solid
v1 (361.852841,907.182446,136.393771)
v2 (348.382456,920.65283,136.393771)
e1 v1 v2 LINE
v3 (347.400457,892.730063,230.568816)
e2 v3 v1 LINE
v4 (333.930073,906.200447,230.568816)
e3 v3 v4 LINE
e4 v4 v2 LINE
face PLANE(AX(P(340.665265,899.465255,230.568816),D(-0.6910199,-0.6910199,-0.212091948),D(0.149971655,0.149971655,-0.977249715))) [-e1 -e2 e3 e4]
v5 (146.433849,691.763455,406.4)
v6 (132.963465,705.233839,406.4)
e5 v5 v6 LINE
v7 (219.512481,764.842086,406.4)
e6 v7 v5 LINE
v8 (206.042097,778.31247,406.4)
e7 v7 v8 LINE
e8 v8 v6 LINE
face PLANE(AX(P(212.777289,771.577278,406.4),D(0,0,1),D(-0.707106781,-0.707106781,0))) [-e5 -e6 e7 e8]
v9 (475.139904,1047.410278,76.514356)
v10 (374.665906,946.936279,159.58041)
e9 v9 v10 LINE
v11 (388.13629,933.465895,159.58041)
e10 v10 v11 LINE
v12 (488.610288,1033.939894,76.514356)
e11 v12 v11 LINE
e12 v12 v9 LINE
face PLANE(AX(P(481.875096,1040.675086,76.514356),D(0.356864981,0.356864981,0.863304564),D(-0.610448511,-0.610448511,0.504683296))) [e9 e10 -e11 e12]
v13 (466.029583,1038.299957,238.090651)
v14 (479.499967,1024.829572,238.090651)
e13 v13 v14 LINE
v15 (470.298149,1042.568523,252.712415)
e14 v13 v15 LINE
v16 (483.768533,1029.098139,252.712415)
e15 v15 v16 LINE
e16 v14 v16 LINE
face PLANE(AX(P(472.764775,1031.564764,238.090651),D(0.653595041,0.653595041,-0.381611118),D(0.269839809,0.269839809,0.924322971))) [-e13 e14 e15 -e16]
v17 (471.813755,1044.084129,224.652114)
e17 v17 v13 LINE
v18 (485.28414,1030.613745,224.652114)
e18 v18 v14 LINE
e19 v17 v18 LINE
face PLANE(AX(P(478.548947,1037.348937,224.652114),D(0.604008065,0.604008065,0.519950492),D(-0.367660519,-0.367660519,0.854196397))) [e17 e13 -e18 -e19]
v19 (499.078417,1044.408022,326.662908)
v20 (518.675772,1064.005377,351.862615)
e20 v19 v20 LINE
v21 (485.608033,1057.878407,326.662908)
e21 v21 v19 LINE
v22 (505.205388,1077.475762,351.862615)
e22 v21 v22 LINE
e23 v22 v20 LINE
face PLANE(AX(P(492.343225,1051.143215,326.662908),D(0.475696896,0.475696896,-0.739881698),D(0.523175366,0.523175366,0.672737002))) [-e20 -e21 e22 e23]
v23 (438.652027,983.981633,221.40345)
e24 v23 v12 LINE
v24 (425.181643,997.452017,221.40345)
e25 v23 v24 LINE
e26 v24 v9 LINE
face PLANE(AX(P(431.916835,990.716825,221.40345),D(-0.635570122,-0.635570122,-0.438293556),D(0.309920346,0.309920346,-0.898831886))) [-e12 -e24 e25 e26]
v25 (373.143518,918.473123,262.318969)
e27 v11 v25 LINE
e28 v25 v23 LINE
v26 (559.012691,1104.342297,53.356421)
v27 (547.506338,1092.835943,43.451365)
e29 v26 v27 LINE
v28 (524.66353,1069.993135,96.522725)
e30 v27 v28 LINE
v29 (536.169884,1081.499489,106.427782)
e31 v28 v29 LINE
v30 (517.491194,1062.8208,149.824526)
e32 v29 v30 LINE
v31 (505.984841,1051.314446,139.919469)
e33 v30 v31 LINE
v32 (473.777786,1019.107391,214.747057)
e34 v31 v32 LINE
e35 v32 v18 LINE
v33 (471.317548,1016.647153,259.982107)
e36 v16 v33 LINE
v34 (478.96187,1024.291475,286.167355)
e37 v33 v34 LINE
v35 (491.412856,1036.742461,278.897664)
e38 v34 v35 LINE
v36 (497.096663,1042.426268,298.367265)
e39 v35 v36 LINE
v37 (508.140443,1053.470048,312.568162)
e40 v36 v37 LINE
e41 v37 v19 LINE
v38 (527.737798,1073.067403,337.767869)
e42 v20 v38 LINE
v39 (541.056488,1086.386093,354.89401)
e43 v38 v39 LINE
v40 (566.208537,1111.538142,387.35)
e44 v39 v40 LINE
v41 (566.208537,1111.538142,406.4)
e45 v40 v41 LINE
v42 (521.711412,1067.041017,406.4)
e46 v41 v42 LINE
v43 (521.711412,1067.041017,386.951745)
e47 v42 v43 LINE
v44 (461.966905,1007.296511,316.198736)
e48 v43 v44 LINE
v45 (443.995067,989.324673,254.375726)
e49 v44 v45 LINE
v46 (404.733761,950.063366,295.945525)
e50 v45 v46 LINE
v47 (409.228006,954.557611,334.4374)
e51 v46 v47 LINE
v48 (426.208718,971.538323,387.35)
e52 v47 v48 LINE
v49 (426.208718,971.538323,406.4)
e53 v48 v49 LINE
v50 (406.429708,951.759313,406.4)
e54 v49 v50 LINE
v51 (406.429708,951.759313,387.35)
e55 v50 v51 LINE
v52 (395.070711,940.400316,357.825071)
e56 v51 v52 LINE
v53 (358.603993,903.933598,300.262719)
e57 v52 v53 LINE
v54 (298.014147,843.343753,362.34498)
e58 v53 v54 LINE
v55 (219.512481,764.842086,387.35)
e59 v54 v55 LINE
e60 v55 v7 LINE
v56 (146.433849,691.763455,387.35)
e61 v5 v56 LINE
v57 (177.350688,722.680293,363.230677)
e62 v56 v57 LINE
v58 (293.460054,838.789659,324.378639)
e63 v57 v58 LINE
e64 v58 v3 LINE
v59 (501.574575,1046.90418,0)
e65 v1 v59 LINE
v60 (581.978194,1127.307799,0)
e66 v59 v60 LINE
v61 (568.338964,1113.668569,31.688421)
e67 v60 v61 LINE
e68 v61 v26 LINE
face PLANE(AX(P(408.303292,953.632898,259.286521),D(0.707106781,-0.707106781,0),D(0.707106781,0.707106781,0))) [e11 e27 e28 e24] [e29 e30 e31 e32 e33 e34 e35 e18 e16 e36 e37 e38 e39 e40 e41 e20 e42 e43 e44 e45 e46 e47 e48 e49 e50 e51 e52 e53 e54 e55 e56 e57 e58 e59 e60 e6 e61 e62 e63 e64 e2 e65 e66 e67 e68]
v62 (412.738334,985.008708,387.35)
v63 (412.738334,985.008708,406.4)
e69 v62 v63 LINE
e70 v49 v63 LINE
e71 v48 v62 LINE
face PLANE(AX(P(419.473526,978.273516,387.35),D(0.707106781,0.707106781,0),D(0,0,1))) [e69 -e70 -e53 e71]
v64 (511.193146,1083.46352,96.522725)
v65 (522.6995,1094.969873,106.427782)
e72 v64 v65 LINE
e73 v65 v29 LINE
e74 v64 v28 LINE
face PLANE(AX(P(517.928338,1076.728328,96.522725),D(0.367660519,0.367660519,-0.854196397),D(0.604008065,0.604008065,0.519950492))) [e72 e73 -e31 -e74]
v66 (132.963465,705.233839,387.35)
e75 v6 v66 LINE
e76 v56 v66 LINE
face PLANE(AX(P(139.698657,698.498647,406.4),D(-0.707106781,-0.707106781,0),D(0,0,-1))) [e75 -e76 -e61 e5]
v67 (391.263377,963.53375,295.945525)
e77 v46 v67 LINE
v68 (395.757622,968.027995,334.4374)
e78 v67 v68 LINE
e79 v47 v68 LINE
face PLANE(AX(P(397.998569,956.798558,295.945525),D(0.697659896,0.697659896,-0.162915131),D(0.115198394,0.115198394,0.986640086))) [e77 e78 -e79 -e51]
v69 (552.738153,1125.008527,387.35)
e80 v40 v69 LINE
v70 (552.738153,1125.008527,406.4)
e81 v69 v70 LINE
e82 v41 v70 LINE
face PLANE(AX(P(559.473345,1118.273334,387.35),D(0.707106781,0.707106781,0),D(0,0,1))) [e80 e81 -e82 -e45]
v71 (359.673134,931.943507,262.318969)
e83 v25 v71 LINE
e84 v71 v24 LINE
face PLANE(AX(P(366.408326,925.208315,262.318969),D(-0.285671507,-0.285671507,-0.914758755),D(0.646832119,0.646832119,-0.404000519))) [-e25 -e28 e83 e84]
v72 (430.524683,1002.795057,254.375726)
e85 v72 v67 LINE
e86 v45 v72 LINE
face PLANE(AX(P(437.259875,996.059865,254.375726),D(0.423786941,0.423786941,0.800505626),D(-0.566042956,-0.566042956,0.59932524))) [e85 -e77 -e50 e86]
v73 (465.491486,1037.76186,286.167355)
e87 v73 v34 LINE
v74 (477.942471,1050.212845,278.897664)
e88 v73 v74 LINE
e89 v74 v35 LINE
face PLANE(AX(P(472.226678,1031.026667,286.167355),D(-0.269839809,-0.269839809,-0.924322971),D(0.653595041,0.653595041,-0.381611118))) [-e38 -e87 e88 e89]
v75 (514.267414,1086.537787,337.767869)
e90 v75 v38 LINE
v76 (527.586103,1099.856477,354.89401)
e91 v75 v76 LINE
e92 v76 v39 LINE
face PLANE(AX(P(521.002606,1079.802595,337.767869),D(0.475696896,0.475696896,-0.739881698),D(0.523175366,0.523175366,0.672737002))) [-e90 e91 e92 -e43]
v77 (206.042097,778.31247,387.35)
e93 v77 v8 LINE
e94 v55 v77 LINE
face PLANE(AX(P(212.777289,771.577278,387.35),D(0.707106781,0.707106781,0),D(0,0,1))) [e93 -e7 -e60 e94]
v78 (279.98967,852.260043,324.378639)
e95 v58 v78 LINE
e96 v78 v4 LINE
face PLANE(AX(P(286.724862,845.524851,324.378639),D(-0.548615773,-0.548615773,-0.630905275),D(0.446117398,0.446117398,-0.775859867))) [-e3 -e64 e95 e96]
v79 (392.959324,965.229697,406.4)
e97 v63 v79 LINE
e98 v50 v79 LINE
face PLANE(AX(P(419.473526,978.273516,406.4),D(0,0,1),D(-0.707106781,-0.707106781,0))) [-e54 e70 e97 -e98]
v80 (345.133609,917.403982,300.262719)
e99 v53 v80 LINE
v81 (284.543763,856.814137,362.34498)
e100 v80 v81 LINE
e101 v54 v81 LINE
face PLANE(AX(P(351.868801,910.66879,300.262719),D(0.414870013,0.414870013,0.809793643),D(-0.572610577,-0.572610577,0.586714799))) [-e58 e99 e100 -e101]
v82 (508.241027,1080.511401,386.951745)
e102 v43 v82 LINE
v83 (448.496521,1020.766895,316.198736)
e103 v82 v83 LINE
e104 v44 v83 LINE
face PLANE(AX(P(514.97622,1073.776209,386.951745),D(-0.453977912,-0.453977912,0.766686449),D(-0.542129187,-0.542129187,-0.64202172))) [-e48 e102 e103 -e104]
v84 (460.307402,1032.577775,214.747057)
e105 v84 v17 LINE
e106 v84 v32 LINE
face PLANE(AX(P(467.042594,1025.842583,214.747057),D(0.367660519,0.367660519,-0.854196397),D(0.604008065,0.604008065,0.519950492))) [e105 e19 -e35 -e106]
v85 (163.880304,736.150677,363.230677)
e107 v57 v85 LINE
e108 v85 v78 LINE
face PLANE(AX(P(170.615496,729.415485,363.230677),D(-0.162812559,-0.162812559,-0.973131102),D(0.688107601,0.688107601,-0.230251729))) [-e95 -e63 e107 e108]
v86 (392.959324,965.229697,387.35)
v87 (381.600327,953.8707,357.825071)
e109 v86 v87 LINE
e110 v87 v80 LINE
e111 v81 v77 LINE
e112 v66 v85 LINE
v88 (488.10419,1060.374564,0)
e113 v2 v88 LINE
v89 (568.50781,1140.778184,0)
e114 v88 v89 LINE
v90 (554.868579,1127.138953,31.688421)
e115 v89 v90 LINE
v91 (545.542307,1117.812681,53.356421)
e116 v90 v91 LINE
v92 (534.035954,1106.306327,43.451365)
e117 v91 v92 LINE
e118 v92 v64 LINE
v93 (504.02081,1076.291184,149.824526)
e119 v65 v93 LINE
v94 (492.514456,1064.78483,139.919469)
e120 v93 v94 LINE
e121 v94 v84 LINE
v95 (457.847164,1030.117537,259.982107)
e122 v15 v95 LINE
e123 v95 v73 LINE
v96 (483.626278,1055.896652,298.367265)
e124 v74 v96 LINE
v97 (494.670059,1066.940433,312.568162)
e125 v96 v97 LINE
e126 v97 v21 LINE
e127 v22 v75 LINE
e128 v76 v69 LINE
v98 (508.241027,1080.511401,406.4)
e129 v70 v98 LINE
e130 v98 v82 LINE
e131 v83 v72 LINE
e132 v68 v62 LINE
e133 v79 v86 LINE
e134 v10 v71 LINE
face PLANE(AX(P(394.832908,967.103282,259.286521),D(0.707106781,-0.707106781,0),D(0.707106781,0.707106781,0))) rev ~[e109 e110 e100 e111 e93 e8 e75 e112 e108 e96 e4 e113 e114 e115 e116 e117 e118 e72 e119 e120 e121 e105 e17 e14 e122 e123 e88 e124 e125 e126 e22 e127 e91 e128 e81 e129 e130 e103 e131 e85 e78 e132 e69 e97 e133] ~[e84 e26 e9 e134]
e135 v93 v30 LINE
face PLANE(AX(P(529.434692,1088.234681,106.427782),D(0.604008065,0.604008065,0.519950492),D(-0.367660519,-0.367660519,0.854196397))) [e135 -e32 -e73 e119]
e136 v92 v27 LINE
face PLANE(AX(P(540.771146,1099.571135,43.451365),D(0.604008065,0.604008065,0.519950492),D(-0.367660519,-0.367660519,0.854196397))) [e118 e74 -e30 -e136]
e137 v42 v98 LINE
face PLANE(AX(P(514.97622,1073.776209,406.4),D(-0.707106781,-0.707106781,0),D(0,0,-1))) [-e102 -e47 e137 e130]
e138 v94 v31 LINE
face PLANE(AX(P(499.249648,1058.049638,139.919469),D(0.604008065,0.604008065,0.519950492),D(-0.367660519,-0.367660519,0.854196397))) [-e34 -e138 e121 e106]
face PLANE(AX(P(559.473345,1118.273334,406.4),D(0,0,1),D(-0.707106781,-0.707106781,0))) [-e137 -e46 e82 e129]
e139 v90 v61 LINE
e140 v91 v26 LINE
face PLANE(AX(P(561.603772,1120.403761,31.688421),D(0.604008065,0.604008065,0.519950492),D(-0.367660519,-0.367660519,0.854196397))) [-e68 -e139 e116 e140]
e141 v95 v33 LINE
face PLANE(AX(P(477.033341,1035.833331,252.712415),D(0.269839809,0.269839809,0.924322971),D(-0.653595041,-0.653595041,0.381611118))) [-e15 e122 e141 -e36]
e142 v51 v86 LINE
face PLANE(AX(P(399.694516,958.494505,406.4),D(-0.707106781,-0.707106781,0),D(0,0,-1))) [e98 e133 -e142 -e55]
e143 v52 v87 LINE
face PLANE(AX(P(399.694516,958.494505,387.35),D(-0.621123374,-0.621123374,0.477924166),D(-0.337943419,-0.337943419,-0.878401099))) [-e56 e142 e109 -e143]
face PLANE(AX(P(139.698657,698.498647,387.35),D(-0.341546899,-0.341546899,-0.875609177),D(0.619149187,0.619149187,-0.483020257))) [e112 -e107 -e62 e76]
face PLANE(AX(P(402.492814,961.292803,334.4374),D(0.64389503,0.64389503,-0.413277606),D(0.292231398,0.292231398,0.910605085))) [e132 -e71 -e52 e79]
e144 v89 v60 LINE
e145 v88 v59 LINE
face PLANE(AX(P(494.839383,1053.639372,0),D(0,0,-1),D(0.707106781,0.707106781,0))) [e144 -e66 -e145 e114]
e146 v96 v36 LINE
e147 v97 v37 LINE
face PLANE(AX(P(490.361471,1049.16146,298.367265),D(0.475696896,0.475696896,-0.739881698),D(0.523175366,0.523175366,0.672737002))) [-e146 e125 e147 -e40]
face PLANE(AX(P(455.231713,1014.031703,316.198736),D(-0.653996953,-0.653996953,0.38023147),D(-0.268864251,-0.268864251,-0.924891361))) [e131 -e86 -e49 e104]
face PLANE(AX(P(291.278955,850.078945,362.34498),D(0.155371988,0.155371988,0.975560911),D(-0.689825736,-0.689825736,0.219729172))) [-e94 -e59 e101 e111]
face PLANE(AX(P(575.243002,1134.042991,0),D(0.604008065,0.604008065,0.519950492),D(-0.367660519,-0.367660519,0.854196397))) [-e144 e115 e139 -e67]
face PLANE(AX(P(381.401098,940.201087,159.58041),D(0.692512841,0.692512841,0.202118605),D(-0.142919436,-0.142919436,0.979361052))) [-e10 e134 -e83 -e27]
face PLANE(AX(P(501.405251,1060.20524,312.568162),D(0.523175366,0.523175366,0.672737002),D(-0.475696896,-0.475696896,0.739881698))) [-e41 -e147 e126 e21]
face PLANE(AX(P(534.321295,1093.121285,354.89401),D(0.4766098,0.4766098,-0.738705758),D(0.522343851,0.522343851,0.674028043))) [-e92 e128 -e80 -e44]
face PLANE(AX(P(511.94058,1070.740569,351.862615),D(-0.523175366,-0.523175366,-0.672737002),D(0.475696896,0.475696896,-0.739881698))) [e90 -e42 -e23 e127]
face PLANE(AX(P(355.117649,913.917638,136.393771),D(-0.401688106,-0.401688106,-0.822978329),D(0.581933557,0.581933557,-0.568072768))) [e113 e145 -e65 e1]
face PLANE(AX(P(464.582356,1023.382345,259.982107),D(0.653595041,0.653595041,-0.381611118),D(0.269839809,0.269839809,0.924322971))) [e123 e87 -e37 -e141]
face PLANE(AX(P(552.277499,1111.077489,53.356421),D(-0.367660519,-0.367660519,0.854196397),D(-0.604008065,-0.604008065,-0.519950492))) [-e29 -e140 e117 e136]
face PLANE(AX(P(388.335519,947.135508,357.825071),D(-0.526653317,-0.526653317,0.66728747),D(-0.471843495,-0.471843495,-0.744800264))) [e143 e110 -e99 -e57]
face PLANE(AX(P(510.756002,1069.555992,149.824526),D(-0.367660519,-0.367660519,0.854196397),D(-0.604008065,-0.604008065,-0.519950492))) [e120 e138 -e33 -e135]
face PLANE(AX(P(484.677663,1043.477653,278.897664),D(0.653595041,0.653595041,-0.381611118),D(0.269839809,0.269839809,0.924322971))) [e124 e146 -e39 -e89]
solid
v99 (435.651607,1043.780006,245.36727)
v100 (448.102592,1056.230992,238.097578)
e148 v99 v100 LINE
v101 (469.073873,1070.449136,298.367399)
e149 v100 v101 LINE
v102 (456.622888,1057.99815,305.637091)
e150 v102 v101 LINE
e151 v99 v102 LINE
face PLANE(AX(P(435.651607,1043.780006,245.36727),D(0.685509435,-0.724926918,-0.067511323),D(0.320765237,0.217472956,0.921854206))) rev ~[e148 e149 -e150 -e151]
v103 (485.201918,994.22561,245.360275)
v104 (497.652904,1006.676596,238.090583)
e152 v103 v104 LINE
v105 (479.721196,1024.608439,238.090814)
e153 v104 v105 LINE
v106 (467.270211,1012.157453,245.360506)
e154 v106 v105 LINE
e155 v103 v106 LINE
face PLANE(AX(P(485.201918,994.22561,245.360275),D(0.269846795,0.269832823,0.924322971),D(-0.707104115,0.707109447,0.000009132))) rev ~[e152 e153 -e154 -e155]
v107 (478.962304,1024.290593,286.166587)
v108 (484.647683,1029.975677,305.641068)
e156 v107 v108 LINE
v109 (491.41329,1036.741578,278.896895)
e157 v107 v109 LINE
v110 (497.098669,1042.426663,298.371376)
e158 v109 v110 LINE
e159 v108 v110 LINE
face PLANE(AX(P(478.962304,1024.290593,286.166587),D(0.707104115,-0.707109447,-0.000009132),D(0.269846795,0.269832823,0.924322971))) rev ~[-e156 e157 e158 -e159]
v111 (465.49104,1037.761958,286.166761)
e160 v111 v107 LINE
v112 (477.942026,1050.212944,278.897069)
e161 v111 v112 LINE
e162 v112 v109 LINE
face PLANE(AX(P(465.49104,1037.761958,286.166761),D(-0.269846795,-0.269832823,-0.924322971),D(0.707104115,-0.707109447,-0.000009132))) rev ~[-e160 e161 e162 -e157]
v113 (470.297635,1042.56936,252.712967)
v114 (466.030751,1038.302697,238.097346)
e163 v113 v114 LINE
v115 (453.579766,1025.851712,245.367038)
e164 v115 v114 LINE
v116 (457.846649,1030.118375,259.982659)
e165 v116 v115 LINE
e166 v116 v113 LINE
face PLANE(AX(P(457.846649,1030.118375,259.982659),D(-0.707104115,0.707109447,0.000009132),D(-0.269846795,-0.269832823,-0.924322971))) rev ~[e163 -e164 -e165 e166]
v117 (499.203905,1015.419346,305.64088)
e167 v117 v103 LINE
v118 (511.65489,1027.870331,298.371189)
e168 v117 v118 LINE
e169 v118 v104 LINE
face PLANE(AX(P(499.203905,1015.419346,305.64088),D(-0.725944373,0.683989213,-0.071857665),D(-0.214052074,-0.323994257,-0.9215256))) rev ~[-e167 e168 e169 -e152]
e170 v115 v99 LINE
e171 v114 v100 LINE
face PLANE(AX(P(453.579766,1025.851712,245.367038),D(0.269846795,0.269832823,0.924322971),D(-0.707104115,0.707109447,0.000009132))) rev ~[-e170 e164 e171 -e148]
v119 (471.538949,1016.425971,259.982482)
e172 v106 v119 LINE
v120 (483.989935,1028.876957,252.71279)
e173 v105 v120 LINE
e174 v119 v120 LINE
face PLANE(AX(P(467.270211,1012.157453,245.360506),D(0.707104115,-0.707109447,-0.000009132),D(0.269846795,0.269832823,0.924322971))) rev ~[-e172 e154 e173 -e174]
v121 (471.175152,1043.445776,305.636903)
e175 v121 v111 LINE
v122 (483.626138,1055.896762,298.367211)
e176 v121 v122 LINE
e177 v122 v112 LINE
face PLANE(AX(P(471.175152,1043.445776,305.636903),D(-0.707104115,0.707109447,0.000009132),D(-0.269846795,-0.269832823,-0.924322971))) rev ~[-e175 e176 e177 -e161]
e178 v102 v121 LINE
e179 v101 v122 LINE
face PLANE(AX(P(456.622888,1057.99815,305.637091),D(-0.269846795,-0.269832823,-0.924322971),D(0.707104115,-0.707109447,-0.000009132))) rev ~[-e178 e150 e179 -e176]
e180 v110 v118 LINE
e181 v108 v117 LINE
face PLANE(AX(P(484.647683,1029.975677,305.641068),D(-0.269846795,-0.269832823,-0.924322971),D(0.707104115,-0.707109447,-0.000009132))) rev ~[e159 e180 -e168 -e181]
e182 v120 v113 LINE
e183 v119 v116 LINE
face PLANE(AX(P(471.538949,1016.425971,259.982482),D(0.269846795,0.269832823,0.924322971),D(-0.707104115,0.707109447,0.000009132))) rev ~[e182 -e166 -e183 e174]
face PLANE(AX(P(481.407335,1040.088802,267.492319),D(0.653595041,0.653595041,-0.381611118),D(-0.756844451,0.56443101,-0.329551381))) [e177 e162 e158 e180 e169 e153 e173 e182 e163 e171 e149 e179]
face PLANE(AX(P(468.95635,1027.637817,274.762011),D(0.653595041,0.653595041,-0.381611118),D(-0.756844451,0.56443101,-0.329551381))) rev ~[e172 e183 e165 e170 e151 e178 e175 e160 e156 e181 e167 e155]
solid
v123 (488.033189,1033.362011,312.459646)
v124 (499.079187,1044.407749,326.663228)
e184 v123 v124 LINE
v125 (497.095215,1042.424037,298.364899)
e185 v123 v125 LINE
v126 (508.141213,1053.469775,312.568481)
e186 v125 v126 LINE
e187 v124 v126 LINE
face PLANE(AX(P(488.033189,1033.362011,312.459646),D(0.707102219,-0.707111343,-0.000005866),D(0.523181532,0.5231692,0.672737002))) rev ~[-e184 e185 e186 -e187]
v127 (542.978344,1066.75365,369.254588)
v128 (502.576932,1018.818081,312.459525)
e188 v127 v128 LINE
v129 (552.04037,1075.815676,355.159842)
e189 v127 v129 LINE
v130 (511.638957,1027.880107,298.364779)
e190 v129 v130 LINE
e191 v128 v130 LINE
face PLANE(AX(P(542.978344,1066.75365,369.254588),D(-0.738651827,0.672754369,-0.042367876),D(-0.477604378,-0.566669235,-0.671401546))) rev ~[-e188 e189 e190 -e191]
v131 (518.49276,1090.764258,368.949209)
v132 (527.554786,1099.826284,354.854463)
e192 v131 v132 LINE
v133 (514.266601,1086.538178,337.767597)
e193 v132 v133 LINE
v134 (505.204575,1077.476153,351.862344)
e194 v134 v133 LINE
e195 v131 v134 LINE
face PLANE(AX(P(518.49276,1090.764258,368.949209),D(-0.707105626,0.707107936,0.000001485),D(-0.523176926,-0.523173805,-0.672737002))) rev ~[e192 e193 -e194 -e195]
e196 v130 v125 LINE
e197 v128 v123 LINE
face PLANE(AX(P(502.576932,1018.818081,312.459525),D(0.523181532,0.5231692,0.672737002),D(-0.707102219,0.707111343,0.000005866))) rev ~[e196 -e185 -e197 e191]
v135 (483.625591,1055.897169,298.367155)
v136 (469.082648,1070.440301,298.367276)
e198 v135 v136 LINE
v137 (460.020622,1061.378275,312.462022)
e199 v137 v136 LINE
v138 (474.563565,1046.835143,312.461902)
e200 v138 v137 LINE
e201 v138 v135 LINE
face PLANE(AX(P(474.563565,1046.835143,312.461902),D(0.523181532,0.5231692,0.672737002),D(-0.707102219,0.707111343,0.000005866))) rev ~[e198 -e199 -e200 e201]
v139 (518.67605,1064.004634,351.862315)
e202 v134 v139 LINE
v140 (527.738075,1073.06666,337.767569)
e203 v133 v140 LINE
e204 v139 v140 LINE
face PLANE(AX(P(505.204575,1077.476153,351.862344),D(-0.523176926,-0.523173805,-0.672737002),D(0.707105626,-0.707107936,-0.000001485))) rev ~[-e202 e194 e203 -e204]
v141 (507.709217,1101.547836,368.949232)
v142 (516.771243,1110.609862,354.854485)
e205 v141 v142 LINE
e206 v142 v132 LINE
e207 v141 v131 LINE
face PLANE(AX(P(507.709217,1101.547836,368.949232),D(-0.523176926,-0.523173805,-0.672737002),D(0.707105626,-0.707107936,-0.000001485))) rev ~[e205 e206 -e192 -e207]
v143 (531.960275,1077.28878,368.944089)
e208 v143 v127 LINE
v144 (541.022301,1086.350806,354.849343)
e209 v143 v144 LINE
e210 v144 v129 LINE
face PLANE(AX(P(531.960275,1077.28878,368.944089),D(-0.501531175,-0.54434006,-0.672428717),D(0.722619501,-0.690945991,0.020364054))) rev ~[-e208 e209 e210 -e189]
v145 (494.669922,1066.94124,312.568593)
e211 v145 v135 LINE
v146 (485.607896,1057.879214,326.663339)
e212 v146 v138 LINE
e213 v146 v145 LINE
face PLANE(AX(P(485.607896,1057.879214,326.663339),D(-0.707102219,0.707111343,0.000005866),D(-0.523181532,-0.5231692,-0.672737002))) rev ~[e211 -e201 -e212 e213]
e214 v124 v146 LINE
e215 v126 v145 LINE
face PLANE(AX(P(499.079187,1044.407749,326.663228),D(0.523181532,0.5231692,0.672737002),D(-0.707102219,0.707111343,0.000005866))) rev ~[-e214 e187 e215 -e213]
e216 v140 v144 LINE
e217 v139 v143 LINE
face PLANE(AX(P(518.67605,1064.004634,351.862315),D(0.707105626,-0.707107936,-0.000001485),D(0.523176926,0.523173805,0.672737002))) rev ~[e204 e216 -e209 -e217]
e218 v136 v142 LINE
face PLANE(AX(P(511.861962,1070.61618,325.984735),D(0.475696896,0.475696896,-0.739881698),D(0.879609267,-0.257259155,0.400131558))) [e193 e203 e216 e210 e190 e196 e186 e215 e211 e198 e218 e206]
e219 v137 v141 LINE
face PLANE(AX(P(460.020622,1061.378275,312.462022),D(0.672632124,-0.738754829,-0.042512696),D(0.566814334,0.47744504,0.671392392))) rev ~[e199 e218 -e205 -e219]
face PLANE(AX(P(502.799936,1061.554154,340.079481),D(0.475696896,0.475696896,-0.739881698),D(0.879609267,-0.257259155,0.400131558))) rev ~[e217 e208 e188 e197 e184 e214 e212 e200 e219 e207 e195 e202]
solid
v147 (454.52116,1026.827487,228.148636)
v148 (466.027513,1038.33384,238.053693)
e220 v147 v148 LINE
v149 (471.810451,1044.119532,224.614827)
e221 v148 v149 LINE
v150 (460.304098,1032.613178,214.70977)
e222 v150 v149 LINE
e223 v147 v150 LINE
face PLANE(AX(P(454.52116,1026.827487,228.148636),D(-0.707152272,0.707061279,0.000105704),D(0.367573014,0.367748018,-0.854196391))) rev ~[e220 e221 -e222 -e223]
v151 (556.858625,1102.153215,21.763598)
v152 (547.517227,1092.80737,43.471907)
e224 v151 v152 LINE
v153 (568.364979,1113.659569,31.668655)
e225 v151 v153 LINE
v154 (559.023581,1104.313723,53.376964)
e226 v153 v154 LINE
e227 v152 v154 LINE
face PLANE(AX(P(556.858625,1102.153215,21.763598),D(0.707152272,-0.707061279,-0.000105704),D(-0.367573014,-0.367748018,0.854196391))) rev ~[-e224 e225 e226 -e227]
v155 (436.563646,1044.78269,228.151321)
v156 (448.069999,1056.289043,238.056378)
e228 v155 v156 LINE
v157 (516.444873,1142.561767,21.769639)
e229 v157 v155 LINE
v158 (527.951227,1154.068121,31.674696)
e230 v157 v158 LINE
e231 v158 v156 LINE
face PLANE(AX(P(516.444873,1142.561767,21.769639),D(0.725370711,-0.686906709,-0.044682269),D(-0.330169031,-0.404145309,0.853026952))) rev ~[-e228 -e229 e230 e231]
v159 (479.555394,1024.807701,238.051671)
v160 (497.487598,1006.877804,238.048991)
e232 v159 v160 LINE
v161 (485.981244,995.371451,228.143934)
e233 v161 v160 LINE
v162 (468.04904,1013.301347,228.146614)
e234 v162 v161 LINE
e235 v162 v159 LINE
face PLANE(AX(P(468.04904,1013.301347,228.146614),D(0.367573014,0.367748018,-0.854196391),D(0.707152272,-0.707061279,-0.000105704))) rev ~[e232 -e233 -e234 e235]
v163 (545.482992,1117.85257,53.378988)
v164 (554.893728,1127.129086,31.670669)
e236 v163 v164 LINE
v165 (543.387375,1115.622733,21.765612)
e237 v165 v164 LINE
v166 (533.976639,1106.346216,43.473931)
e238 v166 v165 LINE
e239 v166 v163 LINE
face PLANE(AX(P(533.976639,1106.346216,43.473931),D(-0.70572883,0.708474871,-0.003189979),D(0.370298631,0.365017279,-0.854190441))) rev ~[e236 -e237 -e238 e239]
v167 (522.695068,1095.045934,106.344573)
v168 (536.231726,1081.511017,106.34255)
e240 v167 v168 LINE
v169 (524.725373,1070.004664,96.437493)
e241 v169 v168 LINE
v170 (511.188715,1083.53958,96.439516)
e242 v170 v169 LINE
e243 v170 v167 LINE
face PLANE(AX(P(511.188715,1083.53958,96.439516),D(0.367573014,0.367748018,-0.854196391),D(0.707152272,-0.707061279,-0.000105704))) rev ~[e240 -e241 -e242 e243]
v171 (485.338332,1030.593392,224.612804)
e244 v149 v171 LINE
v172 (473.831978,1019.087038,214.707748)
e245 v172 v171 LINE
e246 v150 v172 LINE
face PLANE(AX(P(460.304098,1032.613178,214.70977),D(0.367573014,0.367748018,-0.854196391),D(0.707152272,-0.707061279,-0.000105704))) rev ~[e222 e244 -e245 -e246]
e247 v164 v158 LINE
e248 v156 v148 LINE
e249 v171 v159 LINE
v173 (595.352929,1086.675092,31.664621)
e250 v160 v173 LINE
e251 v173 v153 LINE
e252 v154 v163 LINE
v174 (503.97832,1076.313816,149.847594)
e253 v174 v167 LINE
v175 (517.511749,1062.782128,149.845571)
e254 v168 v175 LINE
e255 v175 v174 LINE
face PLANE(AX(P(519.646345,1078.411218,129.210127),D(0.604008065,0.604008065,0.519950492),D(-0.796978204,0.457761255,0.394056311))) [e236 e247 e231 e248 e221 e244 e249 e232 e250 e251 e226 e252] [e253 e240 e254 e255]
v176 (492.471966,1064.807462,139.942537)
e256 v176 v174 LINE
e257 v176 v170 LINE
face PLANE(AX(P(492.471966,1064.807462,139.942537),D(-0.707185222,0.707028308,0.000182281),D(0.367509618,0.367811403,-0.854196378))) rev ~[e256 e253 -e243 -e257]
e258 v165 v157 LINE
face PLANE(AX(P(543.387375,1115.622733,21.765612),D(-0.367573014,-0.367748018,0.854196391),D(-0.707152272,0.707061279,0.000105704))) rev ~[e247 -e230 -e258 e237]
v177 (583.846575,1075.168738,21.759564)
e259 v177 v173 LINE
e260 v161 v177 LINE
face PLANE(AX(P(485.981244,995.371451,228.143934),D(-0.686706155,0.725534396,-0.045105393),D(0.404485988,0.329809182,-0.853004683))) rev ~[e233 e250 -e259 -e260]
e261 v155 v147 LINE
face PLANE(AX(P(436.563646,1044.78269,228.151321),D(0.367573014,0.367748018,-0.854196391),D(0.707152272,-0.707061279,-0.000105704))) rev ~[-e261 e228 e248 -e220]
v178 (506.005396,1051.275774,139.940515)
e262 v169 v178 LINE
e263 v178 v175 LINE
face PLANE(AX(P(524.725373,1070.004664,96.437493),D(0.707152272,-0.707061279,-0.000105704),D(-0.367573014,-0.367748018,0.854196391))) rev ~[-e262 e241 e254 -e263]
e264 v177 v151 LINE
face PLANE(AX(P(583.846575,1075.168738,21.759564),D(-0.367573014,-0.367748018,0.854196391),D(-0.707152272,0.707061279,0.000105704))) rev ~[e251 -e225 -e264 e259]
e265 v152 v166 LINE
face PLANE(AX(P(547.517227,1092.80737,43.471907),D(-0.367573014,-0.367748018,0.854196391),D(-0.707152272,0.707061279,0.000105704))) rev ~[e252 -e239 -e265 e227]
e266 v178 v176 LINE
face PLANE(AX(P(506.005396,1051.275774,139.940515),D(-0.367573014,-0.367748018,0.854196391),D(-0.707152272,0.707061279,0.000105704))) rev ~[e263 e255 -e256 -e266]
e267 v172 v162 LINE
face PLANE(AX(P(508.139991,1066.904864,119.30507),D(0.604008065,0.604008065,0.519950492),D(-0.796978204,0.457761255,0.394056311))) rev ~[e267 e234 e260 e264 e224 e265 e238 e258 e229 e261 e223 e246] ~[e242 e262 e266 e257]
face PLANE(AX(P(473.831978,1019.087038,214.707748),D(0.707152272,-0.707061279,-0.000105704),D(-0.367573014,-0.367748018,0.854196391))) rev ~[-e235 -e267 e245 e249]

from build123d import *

# Parameters (mm, degrees)
F4_DEPTH  = 9.525
F7_DEPTH  = 19.05
F10_DEPTH = 19.05
F13_DEPTH = 19.05


with BuildPart() as f4:
    # F3 (on face) → F4 (new body, symmetric)
    with BuildSketch(Plane(origin=(-279.3999947591, 279.3999947591, 0), x_dir=(0.7071067812, 0.7071067812, 0), z_dir=(0.7071067812, -0.7071067812, 0))):
        Polygon((897.3434567451, 136.3937705755), (1094.939827919, 0), (1186.3460540771, 0), (1208.6477168529, 0), (1189.358932348, 31.6884212524), (1176.1695915607, 53.3564214732), (1159.8971501894, 43.4513645921), (1127.5925418344, 96.5227251898), (1143.8649832057, 106.4277820709), (1117.4493271998, 149.8245256533), (1101.1768858285, 139.9194687722), (1055.6292323309, 214.7470573498), (1071.9016737022, 224.6521142309), (1063.7216184457, 238.0906508463), (1069.7582830134, 252.7124149197), (1052.1499304135, 259.9821067094), (1062.9606344033, 286.1673554397), (1080.5689870032, 278.89766365), (1088.6071039683, 298.3672645432), (1104.2253679729, 312.5681619744), (1091.4097280895, 326.662908314), (1119.1245731748, 351.8626150331), (1131.9402130582, 337.7678686935), (1150.7756846557, 354.8940102509), (1186.3460540771, 387.35), (1186.3460540771, 406.4), (1123.4176158905, 406.4), (1123.4176158905, 386.9517445564), (1038.9261245728, 316.1987364292), (1013.5101079941, 254.3757259846), (957.9862356186, 295.9455251694), (964.3420577049, 334.4374001026), (988.3564114571, 387.35), (988.3564114571, 406.4), (960.3846669197, 406.4), (960.3846669197, 387.35), (944.3206191063, 357.8250706196), (892.7488923073, 300.2627193928), (807.0619106293, 362.3449802399), (696.0437893867, 387.35), (696.0437893867, 406.4), (592.6949977875, 406.4), (592.6949977875, 387.35), (636.4180100745, 363.230676916), (800.6214499474, 324.3786394596), (876.9047004259, 230.5688158366), align=None)
        Polygon((934.5138669014, 159.5804095268), (913.3108854294, 262.3189687729), (1005.9539079666, 221.4034497738), (1076.6055583954, 76.5143558383), align=None, mode=Mode.SUBTRACT)
    extrude(amount=F4_DEPTH, both=True)


with BuildPart() as f7:
    # F6 (on offset) → F7 (new body)
    with BuildSketch(Plane(origin=(612.0851783568, 612.0851783568, 526.9035436733), x_dir=(-0.7969782038, 0.4577612549, 0.394056311), z_dir=(0.6040080651, 0.6040080651, 0.5199504924))):
        Polygon((173.4717456385, -502.1336774186), (180.7278261552, -488.1741275421), (158.2275823149, -476.4786515136), (35.4320899302, -684.9516838711), (69.294935102, -702.5533639585), (81.0159557293, -680.0039763552), (98.0058669167, -688.8352183822), (86.1978450266, -711.3393833118), (120.003664876, -728.9114220186), (220.2337926787, -508.7090643073), (197.7017916776, -496.9970811193), (190.445711161, -510.9566309957), align=None)
        Polygon((133.1024890396, -579.797734436), (150.0834169669, -588.6243070246), (126.5987740847, -633.8149402988), (109.6137951094, -624.9862620026), align=None, mode=Mode.SUBTRACT)
    extrude(amount=F7_DEPTH)


with BuildPart() as f10:
    # F9 (on offset) → F10 (new body)
    with BuildSketch(Plane(origin=(570.7938874194, 570.7938874194, -333.2664412264), x_dir=(-0.7568444507, 0.5644310097, -0.3295513811), z_dir=(0.6535950409, 0.6535950409, -0.3816111176))):
        Polygon((131.1431138105, 737.011034934), (149.2344141006, 743.9150810242), (154.8721425753, 729.1420280262), (178.5601790514, 738.1819142142), (150.8513402086, 797.3986505122), (131.6237899899, 790.0609859562), (139.1340680297, 770.3811209167), (121.3348176468, 763.5885276237), (113.822865863, 783.2727785269), (94.5900875045, 775.9331187955), (113.0905681789, 713.1898827074), (136.7832936769, 722.2315583313), align=None)
    extrude(amount=F10_DEPTH)


with BuildPart() as f13:
    # F12 (on offset) → F13 (new body)
    with BuildSketch(Plane(origin=(234.2996544458, 234.2996544458, -364.4211841152), x_dir=(0.8796092674, -0.2572591549, 0.4001315583), z_dir=(0.4756968959, 0.4756968959, -0.7398816976))):
        Polygon((307.9832494259, -1096.6058969498), (323.2985436916, -1085.2743387222), (338.4009601663, -1105.6861786289), (350.927054882, -1096.9924926758), (304.9959647405, -1025.9565364575), (288.4616432104, -1038.1902014502), (301.0194897652, -1055.1626682281), (285.7044041157, -1066.4942264557), (273.1484532493, -1049.5243217817), (256.6150398402, -1061.7573148601), (310.8306977873, -1126.0944195406), (323.090167196, -1117.0238206326), align=None)
    extrude(amount=F13_DEPTH)


solid = Compound([f4.part, f7.part, f10.part, f13.part])
